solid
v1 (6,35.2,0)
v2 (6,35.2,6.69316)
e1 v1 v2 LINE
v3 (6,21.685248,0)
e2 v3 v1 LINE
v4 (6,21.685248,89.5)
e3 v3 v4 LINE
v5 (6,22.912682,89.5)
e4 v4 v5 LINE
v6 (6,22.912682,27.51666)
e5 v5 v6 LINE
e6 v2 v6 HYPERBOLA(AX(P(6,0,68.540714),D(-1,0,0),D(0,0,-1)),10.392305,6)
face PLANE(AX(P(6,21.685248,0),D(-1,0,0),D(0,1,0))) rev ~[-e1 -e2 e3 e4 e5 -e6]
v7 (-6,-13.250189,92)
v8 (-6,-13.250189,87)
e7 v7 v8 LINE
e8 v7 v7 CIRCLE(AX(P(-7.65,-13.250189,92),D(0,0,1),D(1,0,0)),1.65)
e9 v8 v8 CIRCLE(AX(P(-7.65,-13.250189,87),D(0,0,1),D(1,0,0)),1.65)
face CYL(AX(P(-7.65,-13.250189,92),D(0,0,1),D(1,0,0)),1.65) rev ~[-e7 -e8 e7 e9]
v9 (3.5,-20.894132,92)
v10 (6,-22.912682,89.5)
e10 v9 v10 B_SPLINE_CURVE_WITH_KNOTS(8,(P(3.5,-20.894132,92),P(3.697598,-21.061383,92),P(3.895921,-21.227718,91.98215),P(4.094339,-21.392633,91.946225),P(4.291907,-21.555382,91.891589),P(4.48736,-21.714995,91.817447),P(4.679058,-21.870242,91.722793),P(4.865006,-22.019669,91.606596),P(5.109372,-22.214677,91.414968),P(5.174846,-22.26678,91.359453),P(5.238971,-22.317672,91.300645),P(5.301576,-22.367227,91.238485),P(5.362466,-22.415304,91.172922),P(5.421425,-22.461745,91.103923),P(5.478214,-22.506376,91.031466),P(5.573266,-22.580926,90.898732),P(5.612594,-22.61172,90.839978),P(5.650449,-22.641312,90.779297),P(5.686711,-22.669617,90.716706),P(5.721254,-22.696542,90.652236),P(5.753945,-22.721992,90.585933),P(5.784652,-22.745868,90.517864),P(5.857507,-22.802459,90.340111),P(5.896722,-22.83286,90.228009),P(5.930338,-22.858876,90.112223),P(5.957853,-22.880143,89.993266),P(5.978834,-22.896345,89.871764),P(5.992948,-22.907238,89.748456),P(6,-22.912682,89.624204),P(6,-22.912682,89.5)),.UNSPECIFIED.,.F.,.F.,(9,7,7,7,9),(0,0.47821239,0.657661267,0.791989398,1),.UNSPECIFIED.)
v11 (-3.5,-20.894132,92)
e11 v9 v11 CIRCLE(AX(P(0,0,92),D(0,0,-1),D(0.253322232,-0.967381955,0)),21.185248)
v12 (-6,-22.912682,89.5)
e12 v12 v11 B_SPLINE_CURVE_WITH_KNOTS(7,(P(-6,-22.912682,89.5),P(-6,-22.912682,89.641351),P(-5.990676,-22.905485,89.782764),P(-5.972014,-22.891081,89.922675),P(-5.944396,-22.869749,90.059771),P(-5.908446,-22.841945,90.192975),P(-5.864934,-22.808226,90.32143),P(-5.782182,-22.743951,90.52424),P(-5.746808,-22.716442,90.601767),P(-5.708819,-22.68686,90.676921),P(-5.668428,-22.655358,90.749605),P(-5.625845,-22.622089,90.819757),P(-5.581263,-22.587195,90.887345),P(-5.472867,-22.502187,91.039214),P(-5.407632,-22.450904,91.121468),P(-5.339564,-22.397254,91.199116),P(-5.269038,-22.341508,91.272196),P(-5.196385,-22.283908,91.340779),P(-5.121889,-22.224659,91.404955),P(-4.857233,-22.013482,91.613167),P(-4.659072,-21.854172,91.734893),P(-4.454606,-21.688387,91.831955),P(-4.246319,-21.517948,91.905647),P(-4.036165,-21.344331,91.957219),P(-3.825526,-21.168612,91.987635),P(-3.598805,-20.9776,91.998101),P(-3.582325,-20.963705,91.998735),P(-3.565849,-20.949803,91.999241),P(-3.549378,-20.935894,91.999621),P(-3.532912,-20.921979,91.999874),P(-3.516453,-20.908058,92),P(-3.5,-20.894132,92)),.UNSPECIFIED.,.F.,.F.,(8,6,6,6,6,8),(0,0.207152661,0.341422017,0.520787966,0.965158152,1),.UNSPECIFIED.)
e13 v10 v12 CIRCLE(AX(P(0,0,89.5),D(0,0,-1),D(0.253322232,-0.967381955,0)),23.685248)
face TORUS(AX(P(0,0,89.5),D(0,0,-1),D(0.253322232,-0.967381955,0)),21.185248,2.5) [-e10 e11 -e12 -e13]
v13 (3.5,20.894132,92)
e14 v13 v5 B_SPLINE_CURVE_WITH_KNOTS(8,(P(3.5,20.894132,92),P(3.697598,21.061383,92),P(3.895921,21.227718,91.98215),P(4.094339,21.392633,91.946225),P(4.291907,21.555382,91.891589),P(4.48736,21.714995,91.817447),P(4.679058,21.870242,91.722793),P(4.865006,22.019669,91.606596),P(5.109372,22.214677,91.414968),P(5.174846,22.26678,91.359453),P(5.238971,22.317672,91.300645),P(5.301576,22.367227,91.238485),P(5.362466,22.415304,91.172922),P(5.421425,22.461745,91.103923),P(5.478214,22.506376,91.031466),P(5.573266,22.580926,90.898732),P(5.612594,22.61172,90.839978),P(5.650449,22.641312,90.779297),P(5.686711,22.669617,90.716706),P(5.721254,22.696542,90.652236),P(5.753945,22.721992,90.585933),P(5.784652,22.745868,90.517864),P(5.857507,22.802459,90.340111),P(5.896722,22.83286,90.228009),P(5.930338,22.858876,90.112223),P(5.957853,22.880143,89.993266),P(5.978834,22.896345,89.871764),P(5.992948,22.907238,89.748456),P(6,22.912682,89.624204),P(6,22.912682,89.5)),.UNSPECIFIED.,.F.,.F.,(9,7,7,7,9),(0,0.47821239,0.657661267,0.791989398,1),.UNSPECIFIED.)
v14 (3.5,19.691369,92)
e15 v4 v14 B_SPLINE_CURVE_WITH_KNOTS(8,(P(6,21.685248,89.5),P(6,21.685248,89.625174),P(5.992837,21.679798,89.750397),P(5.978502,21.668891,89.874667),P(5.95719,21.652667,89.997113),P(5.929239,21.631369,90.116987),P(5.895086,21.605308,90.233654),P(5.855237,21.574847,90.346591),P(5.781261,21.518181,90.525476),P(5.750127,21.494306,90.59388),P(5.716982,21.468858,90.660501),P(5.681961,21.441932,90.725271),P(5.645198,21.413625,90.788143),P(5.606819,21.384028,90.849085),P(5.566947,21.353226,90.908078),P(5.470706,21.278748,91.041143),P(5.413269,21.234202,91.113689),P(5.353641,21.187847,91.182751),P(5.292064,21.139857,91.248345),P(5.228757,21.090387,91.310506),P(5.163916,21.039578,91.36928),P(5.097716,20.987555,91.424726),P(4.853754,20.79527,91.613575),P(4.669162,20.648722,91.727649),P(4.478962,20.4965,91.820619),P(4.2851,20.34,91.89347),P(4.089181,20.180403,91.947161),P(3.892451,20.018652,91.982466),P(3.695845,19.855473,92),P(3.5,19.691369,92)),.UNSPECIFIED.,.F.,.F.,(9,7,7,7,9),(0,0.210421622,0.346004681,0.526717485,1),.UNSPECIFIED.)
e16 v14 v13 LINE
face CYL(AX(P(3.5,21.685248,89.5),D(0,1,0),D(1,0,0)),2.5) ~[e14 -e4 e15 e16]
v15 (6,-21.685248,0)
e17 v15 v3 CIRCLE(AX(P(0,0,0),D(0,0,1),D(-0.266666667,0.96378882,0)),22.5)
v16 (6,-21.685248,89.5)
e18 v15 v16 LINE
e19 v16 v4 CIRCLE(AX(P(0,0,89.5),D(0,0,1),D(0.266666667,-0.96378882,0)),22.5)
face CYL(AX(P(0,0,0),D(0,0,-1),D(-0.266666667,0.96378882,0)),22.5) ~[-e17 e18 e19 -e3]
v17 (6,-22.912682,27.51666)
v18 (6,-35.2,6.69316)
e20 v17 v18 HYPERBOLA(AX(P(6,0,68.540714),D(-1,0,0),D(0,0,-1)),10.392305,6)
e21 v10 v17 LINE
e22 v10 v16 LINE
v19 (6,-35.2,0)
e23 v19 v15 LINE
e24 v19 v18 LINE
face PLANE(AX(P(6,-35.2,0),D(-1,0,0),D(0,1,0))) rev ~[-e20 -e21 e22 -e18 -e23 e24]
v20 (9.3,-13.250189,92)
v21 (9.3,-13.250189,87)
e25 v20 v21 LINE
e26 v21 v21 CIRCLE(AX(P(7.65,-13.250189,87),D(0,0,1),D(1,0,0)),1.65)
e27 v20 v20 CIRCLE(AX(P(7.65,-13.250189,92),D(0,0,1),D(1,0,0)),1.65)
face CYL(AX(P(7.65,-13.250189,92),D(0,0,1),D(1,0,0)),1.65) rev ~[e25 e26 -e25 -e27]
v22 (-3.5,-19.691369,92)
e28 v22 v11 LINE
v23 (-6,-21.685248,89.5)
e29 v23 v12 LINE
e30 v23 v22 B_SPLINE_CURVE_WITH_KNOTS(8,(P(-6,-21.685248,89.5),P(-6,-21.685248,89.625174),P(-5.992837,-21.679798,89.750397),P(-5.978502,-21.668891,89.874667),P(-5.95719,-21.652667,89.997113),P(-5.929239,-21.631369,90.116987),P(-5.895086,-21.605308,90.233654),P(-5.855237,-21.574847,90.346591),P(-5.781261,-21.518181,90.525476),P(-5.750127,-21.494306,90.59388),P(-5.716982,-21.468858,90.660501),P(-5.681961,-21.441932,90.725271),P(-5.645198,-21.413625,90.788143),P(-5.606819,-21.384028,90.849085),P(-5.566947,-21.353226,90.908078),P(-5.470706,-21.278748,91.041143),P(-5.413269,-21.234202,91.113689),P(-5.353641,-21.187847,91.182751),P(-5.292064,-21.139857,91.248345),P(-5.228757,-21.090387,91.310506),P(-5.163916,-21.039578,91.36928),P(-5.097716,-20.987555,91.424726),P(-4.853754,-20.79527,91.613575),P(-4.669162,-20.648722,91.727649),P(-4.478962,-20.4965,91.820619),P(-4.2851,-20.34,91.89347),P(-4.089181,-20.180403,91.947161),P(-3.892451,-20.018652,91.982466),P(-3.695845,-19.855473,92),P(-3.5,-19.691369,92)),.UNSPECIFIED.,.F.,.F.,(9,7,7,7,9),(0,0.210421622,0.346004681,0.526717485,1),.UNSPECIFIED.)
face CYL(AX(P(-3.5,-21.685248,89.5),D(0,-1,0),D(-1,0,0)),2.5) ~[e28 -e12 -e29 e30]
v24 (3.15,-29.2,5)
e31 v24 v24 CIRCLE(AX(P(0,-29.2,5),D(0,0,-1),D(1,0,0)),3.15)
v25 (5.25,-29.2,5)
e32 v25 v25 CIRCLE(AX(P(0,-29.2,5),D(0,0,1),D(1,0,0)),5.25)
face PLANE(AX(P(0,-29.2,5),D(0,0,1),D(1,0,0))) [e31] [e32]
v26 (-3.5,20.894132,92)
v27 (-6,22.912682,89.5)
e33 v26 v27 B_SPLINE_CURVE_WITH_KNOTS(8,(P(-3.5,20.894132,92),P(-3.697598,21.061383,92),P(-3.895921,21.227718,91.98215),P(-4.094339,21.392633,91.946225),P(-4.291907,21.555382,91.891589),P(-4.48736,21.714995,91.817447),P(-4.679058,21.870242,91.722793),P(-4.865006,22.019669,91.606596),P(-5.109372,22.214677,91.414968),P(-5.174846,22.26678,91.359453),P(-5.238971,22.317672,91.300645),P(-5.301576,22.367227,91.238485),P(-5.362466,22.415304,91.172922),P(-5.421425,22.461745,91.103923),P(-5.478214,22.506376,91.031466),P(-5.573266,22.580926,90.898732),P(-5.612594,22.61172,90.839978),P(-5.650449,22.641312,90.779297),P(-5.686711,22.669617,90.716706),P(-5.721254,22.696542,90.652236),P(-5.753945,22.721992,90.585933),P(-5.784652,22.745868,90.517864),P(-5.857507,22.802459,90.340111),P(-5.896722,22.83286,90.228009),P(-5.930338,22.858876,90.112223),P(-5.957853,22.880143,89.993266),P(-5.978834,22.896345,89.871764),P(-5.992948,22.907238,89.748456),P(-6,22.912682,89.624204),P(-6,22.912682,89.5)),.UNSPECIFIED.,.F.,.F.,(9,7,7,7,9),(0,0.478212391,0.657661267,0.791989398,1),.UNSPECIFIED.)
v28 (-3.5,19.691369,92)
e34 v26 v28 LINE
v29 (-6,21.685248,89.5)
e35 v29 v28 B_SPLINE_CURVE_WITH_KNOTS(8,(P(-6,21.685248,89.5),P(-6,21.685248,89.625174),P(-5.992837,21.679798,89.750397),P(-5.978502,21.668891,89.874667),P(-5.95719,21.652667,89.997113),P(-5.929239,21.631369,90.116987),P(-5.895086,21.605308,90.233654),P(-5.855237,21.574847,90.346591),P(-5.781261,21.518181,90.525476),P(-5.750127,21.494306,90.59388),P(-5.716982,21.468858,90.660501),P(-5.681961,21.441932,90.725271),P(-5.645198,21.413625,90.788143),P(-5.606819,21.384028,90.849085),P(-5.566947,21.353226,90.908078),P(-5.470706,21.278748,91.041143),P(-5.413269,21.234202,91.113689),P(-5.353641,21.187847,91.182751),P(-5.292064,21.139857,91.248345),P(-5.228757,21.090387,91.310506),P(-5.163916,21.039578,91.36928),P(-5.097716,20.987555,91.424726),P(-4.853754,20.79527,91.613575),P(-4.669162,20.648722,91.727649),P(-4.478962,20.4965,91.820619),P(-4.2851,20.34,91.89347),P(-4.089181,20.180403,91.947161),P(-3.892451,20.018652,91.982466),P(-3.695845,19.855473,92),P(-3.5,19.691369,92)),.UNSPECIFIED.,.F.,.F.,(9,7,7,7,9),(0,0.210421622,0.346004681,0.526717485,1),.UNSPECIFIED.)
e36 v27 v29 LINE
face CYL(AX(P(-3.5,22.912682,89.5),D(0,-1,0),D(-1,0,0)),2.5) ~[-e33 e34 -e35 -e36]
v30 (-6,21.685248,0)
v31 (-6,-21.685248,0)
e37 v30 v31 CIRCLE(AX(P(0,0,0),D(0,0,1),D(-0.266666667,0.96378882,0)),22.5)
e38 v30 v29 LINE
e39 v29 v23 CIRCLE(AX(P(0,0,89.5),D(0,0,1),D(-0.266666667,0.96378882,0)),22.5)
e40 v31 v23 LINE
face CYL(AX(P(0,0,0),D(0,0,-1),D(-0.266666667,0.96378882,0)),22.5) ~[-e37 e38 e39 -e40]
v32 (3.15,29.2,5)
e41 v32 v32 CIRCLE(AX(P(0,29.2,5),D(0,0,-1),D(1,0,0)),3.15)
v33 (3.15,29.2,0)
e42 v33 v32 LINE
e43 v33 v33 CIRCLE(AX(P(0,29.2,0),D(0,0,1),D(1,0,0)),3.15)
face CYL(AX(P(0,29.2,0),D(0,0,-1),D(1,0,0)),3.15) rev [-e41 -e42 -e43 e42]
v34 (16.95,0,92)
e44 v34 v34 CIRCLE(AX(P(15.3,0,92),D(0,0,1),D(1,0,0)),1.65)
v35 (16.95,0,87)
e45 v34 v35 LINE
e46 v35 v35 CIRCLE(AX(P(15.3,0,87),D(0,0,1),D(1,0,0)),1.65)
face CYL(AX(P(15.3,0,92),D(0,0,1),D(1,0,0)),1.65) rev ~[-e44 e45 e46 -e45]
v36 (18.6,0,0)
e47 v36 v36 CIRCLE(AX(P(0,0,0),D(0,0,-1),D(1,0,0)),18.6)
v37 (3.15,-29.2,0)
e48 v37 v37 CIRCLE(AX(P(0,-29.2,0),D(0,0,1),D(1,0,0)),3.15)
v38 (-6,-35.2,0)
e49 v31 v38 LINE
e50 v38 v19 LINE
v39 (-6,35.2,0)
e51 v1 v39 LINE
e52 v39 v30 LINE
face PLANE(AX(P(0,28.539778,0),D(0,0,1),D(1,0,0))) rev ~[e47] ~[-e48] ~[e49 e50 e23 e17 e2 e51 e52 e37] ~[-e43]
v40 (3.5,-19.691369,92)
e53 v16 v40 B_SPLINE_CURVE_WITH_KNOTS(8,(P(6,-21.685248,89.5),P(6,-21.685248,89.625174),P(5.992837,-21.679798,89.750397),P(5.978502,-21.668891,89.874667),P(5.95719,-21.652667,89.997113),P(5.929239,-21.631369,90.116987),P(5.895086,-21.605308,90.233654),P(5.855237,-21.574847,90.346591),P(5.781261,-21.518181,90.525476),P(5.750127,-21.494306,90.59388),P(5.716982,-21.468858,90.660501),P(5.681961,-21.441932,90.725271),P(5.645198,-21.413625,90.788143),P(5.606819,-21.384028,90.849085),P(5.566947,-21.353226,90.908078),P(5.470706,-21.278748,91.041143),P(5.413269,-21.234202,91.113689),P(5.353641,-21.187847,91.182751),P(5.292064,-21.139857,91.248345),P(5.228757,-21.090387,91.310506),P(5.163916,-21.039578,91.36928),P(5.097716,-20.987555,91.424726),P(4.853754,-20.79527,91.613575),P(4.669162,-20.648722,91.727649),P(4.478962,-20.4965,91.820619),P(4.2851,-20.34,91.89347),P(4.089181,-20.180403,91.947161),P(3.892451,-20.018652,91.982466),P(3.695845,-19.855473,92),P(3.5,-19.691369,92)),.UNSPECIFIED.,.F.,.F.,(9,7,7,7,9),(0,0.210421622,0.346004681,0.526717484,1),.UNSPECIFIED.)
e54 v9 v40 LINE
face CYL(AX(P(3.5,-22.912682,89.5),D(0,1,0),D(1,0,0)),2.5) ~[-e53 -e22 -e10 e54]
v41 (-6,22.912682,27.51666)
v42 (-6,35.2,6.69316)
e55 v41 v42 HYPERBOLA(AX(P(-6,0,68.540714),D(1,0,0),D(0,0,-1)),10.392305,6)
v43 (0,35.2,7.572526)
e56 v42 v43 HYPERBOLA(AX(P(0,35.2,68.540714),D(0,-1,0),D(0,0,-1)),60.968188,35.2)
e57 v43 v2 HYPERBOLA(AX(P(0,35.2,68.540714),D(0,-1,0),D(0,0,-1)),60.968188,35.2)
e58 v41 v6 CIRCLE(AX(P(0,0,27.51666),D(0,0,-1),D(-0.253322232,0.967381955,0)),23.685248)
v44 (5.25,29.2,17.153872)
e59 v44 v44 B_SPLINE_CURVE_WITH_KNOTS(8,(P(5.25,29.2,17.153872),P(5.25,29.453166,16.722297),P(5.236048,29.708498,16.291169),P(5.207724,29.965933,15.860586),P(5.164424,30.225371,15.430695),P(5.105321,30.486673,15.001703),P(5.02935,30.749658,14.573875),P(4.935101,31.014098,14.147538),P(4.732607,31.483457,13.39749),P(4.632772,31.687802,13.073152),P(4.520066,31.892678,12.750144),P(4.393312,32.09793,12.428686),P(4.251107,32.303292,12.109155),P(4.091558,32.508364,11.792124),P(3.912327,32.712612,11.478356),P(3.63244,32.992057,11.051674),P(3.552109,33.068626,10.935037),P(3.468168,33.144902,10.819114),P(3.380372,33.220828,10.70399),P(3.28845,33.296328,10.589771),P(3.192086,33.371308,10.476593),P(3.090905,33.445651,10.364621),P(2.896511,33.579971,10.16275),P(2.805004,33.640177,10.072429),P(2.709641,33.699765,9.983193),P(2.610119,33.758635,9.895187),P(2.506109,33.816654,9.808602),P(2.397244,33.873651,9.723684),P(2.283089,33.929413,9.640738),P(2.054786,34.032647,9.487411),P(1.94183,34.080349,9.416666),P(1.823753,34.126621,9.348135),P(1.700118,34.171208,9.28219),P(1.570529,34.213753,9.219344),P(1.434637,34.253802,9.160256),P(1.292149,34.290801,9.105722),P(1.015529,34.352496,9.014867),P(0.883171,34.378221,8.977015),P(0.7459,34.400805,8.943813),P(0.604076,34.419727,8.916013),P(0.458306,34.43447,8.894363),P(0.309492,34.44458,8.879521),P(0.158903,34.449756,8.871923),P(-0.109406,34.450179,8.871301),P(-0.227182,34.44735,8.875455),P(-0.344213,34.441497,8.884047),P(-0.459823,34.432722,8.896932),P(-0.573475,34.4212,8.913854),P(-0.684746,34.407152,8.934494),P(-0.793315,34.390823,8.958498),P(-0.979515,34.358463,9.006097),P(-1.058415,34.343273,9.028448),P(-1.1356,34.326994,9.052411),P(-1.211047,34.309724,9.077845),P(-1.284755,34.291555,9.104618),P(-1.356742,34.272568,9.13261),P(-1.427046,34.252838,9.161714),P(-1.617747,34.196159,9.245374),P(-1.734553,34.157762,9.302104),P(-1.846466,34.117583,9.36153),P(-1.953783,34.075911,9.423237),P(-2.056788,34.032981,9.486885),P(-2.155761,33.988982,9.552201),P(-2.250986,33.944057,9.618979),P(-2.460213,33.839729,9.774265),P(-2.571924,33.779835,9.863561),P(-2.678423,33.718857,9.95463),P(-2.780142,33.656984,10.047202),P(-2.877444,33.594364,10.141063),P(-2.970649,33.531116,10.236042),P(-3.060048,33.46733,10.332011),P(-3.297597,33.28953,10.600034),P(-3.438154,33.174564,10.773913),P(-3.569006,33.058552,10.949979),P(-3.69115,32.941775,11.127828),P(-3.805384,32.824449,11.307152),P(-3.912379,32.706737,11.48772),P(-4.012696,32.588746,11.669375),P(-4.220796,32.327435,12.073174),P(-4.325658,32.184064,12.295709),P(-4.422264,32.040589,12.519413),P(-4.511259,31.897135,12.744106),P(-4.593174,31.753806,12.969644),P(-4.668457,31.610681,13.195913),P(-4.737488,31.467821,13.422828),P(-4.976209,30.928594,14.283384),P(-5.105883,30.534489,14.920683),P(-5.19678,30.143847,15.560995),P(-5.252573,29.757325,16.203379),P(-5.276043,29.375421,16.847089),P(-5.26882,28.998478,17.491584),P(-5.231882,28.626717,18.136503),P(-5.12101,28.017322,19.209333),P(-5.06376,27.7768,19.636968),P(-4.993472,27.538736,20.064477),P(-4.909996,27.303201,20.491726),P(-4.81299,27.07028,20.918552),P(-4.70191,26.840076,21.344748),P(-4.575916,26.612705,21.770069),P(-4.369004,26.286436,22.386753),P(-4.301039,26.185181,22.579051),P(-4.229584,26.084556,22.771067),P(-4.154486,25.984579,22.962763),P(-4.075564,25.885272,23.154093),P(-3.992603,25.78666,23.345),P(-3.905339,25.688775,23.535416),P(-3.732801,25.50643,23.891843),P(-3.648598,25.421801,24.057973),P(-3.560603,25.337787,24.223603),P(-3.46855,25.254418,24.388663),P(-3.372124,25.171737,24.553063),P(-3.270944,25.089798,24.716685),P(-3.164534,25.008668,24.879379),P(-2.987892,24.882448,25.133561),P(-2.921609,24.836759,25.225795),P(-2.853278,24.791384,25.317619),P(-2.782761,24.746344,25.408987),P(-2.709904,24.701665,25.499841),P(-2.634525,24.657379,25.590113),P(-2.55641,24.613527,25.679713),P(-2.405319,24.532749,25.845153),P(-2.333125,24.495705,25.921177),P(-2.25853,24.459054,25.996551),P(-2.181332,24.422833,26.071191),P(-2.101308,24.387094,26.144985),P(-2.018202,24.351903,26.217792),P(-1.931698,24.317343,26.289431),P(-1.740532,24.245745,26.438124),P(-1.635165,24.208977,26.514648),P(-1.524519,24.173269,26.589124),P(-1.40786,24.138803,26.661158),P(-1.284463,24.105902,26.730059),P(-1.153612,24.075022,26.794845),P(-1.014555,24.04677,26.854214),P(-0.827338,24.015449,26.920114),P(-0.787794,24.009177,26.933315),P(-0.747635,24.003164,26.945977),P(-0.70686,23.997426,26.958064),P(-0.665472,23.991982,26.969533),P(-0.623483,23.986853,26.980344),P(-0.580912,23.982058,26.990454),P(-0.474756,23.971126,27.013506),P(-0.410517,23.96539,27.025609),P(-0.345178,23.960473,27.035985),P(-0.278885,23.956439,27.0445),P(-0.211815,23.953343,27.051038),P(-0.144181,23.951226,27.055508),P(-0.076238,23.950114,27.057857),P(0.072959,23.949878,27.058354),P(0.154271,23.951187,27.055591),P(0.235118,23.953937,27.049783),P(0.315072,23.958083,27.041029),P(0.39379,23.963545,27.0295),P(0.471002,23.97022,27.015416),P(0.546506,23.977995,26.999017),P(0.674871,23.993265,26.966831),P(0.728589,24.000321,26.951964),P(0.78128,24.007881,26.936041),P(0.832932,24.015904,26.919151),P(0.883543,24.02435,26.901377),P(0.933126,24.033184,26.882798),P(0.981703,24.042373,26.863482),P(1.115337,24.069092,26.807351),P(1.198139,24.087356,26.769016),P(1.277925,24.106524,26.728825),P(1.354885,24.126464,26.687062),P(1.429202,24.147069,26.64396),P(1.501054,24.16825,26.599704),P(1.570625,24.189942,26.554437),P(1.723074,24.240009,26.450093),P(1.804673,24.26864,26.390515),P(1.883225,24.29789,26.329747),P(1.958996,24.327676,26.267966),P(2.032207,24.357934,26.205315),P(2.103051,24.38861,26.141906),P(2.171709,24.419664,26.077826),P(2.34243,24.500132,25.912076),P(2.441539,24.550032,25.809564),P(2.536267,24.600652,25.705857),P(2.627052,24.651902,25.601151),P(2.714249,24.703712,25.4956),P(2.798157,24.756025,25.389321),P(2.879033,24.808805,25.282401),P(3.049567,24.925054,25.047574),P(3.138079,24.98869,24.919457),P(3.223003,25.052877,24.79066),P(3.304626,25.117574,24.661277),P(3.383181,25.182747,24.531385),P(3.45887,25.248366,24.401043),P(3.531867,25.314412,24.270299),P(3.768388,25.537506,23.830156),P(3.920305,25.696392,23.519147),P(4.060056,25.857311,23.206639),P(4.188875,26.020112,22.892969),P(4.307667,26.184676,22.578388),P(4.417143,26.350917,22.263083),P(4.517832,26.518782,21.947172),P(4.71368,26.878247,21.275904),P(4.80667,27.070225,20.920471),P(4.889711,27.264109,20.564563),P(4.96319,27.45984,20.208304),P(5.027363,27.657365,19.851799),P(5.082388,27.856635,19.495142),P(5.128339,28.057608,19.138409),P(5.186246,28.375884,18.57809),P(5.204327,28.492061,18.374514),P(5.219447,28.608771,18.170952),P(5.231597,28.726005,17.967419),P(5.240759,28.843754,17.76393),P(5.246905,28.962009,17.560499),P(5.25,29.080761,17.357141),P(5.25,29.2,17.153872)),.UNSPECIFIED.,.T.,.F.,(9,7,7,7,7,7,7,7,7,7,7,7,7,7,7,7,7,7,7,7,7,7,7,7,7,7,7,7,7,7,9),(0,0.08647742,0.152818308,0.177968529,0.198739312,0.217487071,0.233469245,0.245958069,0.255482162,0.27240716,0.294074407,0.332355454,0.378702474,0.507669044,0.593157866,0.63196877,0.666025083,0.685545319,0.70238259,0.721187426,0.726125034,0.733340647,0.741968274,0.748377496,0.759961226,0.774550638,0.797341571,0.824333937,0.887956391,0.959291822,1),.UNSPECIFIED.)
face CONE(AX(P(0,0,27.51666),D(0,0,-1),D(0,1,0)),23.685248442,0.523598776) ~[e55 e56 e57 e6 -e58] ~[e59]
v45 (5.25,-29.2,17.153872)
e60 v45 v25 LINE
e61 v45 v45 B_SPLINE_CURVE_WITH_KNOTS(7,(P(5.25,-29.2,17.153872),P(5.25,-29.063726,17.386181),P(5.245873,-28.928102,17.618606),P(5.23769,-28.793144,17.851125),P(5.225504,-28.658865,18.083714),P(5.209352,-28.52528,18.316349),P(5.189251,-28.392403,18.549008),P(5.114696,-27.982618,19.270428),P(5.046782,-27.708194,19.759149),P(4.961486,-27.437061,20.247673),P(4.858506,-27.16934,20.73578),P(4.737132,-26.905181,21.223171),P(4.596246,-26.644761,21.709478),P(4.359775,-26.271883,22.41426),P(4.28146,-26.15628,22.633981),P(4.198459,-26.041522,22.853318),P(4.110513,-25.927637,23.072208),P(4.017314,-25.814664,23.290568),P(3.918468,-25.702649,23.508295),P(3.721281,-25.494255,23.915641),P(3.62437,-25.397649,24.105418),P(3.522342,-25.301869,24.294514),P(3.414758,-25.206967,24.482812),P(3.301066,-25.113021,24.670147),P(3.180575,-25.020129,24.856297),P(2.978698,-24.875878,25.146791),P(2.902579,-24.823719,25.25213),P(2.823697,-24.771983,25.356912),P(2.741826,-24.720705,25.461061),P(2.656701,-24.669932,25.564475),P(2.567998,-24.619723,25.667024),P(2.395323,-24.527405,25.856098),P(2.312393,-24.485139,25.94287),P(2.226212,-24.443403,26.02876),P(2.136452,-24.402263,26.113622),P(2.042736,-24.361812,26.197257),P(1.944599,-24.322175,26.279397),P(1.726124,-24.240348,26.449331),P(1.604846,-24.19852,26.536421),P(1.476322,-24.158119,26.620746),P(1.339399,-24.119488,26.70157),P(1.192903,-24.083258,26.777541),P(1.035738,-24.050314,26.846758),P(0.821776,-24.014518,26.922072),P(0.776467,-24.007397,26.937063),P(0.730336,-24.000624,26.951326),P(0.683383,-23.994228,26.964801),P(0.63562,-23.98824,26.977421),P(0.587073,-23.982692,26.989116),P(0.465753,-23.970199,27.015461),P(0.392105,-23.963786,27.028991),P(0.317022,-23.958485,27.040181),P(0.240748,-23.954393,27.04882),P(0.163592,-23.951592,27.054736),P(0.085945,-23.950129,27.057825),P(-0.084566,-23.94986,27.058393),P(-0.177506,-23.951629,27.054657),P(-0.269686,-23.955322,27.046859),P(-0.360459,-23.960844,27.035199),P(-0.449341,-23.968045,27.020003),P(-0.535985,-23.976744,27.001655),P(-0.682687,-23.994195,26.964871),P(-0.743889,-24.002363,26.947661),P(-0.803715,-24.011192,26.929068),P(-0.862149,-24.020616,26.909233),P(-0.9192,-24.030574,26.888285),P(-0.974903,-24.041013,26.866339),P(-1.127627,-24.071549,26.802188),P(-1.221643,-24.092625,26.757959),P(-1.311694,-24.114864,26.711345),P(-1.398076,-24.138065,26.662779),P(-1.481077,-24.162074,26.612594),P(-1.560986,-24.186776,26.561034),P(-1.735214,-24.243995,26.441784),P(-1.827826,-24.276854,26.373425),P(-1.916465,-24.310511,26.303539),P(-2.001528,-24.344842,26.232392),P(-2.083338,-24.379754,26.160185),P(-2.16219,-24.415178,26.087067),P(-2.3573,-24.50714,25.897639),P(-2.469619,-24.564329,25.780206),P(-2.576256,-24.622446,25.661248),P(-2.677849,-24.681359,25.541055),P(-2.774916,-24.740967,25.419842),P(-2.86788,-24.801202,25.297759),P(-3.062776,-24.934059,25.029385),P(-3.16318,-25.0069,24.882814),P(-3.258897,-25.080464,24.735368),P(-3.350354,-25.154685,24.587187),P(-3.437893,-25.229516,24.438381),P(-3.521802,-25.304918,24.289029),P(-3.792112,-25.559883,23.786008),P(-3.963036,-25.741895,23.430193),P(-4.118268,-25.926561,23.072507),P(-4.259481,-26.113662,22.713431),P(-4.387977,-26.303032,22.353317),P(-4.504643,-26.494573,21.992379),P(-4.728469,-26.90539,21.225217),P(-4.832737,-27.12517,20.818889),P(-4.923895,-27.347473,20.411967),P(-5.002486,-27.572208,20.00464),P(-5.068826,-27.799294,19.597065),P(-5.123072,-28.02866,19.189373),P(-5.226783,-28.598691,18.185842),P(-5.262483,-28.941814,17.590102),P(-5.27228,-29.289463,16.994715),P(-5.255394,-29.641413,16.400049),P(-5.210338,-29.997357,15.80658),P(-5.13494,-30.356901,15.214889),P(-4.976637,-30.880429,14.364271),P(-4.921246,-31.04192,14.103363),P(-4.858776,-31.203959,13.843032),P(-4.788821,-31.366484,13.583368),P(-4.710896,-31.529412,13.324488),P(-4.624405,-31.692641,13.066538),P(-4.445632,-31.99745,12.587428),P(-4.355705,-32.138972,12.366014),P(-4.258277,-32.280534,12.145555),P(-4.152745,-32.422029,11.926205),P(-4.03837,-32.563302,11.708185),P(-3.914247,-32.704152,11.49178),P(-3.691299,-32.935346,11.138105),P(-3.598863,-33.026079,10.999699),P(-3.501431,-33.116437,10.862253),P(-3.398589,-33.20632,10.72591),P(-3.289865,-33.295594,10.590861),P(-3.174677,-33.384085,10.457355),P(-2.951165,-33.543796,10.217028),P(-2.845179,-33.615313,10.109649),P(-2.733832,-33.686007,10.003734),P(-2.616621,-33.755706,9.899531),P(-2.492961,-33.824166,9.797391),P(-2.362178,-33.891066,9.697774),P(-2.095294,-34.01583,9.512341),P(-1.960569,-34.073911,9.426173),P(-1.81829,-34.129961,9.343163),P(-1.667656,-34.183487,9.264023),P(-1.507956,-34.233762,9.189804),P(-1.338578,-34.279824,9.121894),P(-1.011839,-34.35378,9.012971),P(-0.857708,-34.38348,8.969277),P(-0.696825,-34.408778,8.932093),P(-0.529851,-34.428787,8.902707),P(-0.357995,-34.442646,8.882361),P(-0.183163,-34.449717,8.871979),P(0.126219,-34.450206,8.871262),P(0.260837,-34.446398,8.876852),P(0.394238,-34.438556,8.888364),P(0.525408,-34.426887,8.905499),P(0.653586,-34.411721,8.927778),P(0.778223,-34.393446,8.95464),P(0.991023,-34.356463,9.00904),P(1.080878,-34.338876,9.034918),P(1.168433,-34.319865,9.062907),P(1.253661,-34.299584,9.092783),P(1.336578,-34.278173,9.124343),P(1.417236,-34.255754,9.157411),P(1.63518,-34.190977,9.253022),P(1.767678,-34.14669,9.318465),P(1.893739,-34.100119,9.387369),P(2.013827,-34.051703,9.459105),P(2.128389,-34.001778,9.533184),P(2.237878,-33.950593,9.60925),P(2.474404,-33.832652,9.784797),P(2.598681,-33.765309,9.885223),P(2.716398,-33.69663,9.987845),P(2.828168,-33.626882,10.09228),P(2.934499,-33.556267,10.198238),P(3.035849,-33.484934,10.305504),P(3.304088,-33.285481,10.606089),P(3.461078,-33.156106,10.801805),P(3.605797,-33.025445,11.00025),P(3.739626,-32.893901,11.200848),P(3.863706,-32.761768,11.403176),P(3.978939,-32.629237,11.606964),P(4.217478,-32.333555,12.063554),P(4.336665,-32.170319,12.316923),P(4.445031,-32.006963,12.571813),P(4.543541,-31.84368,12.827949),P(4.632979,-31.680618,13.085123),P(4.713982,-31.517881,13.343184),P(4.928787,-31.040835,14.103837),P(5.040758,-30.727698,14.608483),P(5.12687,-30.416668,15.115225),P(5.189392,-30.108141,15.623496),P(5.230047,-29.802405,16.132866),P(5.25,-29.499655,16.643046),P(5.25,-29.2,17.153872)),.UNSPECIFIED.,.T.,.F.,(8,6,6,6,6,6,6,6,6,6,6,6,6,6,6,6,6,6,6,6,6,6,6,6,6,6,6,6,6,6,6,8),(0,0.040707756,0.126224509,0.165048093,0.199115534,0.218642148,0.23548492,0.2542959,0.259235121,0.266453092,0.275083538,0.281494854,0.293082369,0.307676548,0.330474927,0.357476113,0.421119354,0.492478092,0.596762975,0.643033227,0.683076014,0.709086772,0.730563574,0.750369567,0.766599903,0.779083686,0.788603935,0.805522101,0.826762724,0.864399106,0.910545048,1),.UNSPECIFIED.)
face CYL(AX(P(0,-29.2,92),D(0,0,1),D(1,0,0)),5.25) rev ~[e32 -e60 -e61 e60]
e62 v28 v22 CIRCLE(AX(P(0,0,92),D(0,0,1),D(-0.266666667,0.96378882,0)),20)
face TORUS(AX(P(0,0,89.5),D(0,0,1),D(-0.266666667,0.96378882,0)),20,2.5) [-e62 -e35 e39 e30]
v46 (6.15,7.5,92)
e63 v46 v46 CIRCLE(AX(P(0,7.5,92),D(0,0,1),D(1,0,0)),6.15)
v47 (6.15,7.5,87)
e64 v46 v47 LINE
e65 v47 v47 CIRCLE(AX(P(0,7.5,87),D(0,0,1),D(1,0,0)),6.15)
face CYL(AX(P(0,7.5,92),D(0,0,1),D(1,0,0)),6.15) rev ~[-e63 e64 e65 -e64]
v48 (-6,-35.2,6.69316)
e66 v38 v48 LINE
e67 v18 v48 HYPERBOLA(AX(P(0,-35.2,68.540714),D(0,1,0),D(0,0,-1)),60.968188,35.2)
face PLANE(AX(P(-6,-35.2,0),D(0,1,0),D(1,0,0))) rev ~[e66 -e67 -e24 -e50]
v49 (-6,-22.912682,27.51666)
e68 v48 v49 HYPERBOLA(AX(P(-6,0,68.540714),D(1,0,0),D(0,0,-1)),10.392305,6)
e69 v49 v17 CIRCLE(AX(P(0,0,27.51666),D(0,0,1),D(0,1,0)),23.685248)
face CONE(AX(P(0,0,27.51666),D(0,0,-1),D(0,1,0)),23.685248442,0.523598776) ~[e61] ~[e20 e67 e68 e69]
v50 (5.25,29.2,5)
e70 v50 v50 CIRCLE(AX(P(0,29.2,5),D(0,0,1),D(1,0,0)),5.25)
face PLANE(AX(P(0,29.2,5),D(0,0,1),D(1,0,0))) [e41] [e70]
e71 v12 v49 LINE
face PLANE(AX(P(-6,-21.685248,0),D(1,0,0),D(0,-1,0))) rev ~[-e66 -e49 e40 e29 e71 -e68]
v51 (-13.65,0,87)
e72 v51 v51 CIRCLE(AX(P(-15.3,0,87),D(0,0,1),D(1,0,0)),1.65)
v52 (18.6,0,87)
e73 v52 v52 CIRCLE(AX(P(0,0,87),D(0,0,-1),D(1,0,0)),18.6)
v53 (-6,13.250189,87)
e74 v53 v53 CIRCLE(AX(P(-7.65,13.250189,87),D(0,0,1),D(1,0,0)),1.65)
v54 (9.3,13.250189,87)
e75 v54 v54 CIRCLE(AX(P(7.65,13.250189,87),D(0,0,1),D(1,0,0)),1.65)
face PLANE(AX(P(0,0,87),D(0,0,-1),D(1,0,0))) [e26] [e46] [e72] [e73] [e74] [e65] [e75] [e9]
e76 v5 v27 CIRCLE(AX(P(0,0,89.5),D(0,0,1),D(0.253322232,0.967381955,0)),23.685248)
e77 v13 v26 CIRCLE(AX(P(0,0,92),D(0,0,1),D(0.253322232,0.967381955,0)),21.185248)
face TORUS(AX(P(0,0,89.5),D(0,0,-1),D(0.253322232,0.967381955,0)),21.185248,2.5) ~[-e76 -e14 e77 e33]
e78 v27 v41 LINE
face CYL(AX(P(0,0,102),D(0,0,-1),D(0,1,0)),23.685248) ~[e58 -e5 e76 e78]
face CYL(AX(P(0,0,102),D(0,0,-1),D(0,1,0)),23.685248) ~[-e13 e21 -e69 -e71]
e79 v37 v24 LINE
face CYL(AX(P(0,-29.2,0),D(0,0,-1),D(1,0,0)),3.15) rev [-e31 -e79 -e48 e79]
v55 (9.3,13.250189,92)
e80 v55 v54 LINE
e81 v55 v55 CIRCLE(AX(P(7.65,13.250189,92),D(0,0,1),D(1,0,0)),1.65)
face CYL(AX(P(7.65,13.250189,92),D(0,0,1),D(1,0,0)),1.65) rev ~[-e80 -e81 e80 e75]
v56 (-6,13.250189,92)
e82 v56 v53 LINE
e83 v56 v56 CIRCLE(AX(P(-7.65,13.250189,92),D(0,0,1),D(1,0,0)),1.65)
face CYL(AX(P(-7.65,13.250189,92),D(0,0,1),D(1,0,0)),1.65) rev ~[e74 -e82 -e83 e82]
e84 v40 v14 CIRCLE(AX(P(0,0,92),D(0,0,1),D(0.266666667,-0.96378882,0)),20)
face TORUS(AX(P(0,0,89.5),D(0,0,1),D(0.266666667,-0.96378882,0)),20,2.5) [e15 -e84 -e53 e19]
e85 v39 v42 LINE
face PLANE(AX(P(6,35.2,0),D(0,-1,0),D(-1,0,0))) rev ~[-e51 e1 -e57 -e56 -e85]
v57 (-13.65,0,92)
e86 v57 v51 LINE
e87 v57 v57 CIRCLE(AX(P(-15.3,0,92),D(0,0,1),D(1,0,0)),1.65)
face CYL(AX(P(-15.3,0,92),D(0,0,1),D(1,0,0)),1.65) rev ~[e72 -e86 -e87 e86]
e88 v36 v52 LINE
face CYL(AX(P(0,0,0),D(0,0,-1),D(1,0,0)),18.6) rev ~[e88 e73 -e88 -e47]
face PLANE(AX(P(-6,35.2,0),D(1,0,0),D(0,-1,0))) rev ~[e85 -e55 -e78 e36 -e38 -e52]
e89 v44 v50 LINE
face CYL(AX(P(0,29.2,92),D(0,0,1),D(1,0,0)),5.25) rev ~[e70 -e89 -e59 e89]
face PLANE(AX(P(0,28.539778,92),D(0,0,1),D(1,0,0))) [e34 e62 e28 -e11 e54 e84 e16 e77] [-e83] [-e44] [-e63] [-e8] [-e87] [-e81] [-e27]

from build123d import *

# Parameters (mm, degrees)
F1_R      = 3.15
F2_DEPTH  = 92
F3_R      = 18.6
F5_DEPTH  = 87
F4_R      = 6.15
F4_R_2    = 1.65
F8_DEPTH  = 92.0010001
F9_R      = 5.25
F10_DEPTH = 87
F11_R     = 2.5


with BuildPart() as f2:
    # F1 (on Top) → F2 (new body)
    with BuildSketch(Plane.XY):
        with BuildLine():
            Line((6, 35.2), (-6, 35.2))
            Line((-6, 35.2), (-6, 21.6852484422))
            ThreePointArc((-6, 21.6852484422), (0, 22.5), (6, 21.6852484422))
            Line((6, 21.6852484422), (6, 35.2))
        make_face()
        with Locations((0, 29.2)):
            Circle(F1_R, mode=Mode.SUBTRACT)
        with BuildLine():
            ThreePointArc((6, 21.6852484422), (0, 22.5), (-6, 21.6852484422))
            ThreePointArc((-6, 21.6852484422), (-22.5, 0), (-6, -21.6852484422))
            ThreePointArc((-6, -21.6852484422), (0, -22.5), (6, -21.6852484422))
            ThreePointArc((6, -21.6852484422), (17.9060045795, -13.6244265934), (22.5, 0))
            ThreePointArc((22.5, 0), (17.9060045795, 13.6244265934), (6, 21.6852484422))
        make_face()
        with BuildLine():
            ThreePointArc((6, -21.6852484422), (0, -22.5), (-6, -21.6852484422))
            Line((-6, -21.6852484422), (-6, -35.2))
            Line((-6, -35.2), (6, -35.2))
            Line((6, -35.2), (6, -21.6852484422))
        make_face()
        with Locations((0, -29.2)):
            Circle(F1_R, mode=Mode.SUBTRACT)
    extrude(amount=F2_DEPTH)

    # F3 (on face) → F5 (cut)
    with BuildSketch(Plane(origin=(0, 0, 0), x_dir=(1, 0, 0), z_dir=(0, 0, -1))):
        Circle(F3_R)
    extrude(amount=-F5_DEPTH, mode=Mode.SUBTRACT)

    # F6 (on Right) → F7 (revolve, cut)
    with BuildSketch(Plane.YZ):
        Polygon((36.6852484422, 102), (23.6852484422, 102), (23.6852484422, 27.5166604984), (36.6852484422, 5), align=None)
    revolve(axis=Axis((0, 0, 51.2388907373), (0, 0, 1)), mode=Mode.SUBTRACT)

    # F4 (on face) → F8 (cut, through all)
    with BuildSketch(Plane.XY.offset(92)):
        with Locations((0, 7.5)):
            Circle(F4_R)
        with Locations((-15.3, 0)):
            Circle(F4_R_2)
        with Locations((-7.65, -13.2501886779)):
            Circle(F4_R_2)
        with Locations((7.65, -13.2501886779)):
            Circle(F4_R_2)
        with Locations((15.3, 0)):
            Circle(F4_R_2)
        with Locations((7.65, 13.2501886779)):
            Circle(F4_R_2)
        with Locations((-7.65, 13.2501886779)):
            Circle(F4_R_2)
    extrude(amount=-F8_DEPTH, mode=Mode.SUBTRACT)

    # F9 (on face) → F10 (cut)
    with BuildSketch(Plane.XY.offset(92)):
        with Locations((0, 29.2)):
            Circle(F9_R)
        with Locations((0, -29.2)):
            Circle(F9_R)
    extrude(amount=-F10_DEPTH, mode=Mode.SUBTRACT)

    # F11
    f11_edges = [f2.edges().sort_by_distance(p)[0] for p in [
        (-22.5, 0, 92),
        (-6, -22.298965, 92),
        (0, 23.685248, 92),
        (0, -23.685248, 92),
        (6, -22.298965, 92),
        (22.5, 0, 92),
        (6, 22.298965, 92),
        (-6, 22.298965, 92),
    ]]
    fillet(f11_edges, radius=F11_R)


solid = f2.part
